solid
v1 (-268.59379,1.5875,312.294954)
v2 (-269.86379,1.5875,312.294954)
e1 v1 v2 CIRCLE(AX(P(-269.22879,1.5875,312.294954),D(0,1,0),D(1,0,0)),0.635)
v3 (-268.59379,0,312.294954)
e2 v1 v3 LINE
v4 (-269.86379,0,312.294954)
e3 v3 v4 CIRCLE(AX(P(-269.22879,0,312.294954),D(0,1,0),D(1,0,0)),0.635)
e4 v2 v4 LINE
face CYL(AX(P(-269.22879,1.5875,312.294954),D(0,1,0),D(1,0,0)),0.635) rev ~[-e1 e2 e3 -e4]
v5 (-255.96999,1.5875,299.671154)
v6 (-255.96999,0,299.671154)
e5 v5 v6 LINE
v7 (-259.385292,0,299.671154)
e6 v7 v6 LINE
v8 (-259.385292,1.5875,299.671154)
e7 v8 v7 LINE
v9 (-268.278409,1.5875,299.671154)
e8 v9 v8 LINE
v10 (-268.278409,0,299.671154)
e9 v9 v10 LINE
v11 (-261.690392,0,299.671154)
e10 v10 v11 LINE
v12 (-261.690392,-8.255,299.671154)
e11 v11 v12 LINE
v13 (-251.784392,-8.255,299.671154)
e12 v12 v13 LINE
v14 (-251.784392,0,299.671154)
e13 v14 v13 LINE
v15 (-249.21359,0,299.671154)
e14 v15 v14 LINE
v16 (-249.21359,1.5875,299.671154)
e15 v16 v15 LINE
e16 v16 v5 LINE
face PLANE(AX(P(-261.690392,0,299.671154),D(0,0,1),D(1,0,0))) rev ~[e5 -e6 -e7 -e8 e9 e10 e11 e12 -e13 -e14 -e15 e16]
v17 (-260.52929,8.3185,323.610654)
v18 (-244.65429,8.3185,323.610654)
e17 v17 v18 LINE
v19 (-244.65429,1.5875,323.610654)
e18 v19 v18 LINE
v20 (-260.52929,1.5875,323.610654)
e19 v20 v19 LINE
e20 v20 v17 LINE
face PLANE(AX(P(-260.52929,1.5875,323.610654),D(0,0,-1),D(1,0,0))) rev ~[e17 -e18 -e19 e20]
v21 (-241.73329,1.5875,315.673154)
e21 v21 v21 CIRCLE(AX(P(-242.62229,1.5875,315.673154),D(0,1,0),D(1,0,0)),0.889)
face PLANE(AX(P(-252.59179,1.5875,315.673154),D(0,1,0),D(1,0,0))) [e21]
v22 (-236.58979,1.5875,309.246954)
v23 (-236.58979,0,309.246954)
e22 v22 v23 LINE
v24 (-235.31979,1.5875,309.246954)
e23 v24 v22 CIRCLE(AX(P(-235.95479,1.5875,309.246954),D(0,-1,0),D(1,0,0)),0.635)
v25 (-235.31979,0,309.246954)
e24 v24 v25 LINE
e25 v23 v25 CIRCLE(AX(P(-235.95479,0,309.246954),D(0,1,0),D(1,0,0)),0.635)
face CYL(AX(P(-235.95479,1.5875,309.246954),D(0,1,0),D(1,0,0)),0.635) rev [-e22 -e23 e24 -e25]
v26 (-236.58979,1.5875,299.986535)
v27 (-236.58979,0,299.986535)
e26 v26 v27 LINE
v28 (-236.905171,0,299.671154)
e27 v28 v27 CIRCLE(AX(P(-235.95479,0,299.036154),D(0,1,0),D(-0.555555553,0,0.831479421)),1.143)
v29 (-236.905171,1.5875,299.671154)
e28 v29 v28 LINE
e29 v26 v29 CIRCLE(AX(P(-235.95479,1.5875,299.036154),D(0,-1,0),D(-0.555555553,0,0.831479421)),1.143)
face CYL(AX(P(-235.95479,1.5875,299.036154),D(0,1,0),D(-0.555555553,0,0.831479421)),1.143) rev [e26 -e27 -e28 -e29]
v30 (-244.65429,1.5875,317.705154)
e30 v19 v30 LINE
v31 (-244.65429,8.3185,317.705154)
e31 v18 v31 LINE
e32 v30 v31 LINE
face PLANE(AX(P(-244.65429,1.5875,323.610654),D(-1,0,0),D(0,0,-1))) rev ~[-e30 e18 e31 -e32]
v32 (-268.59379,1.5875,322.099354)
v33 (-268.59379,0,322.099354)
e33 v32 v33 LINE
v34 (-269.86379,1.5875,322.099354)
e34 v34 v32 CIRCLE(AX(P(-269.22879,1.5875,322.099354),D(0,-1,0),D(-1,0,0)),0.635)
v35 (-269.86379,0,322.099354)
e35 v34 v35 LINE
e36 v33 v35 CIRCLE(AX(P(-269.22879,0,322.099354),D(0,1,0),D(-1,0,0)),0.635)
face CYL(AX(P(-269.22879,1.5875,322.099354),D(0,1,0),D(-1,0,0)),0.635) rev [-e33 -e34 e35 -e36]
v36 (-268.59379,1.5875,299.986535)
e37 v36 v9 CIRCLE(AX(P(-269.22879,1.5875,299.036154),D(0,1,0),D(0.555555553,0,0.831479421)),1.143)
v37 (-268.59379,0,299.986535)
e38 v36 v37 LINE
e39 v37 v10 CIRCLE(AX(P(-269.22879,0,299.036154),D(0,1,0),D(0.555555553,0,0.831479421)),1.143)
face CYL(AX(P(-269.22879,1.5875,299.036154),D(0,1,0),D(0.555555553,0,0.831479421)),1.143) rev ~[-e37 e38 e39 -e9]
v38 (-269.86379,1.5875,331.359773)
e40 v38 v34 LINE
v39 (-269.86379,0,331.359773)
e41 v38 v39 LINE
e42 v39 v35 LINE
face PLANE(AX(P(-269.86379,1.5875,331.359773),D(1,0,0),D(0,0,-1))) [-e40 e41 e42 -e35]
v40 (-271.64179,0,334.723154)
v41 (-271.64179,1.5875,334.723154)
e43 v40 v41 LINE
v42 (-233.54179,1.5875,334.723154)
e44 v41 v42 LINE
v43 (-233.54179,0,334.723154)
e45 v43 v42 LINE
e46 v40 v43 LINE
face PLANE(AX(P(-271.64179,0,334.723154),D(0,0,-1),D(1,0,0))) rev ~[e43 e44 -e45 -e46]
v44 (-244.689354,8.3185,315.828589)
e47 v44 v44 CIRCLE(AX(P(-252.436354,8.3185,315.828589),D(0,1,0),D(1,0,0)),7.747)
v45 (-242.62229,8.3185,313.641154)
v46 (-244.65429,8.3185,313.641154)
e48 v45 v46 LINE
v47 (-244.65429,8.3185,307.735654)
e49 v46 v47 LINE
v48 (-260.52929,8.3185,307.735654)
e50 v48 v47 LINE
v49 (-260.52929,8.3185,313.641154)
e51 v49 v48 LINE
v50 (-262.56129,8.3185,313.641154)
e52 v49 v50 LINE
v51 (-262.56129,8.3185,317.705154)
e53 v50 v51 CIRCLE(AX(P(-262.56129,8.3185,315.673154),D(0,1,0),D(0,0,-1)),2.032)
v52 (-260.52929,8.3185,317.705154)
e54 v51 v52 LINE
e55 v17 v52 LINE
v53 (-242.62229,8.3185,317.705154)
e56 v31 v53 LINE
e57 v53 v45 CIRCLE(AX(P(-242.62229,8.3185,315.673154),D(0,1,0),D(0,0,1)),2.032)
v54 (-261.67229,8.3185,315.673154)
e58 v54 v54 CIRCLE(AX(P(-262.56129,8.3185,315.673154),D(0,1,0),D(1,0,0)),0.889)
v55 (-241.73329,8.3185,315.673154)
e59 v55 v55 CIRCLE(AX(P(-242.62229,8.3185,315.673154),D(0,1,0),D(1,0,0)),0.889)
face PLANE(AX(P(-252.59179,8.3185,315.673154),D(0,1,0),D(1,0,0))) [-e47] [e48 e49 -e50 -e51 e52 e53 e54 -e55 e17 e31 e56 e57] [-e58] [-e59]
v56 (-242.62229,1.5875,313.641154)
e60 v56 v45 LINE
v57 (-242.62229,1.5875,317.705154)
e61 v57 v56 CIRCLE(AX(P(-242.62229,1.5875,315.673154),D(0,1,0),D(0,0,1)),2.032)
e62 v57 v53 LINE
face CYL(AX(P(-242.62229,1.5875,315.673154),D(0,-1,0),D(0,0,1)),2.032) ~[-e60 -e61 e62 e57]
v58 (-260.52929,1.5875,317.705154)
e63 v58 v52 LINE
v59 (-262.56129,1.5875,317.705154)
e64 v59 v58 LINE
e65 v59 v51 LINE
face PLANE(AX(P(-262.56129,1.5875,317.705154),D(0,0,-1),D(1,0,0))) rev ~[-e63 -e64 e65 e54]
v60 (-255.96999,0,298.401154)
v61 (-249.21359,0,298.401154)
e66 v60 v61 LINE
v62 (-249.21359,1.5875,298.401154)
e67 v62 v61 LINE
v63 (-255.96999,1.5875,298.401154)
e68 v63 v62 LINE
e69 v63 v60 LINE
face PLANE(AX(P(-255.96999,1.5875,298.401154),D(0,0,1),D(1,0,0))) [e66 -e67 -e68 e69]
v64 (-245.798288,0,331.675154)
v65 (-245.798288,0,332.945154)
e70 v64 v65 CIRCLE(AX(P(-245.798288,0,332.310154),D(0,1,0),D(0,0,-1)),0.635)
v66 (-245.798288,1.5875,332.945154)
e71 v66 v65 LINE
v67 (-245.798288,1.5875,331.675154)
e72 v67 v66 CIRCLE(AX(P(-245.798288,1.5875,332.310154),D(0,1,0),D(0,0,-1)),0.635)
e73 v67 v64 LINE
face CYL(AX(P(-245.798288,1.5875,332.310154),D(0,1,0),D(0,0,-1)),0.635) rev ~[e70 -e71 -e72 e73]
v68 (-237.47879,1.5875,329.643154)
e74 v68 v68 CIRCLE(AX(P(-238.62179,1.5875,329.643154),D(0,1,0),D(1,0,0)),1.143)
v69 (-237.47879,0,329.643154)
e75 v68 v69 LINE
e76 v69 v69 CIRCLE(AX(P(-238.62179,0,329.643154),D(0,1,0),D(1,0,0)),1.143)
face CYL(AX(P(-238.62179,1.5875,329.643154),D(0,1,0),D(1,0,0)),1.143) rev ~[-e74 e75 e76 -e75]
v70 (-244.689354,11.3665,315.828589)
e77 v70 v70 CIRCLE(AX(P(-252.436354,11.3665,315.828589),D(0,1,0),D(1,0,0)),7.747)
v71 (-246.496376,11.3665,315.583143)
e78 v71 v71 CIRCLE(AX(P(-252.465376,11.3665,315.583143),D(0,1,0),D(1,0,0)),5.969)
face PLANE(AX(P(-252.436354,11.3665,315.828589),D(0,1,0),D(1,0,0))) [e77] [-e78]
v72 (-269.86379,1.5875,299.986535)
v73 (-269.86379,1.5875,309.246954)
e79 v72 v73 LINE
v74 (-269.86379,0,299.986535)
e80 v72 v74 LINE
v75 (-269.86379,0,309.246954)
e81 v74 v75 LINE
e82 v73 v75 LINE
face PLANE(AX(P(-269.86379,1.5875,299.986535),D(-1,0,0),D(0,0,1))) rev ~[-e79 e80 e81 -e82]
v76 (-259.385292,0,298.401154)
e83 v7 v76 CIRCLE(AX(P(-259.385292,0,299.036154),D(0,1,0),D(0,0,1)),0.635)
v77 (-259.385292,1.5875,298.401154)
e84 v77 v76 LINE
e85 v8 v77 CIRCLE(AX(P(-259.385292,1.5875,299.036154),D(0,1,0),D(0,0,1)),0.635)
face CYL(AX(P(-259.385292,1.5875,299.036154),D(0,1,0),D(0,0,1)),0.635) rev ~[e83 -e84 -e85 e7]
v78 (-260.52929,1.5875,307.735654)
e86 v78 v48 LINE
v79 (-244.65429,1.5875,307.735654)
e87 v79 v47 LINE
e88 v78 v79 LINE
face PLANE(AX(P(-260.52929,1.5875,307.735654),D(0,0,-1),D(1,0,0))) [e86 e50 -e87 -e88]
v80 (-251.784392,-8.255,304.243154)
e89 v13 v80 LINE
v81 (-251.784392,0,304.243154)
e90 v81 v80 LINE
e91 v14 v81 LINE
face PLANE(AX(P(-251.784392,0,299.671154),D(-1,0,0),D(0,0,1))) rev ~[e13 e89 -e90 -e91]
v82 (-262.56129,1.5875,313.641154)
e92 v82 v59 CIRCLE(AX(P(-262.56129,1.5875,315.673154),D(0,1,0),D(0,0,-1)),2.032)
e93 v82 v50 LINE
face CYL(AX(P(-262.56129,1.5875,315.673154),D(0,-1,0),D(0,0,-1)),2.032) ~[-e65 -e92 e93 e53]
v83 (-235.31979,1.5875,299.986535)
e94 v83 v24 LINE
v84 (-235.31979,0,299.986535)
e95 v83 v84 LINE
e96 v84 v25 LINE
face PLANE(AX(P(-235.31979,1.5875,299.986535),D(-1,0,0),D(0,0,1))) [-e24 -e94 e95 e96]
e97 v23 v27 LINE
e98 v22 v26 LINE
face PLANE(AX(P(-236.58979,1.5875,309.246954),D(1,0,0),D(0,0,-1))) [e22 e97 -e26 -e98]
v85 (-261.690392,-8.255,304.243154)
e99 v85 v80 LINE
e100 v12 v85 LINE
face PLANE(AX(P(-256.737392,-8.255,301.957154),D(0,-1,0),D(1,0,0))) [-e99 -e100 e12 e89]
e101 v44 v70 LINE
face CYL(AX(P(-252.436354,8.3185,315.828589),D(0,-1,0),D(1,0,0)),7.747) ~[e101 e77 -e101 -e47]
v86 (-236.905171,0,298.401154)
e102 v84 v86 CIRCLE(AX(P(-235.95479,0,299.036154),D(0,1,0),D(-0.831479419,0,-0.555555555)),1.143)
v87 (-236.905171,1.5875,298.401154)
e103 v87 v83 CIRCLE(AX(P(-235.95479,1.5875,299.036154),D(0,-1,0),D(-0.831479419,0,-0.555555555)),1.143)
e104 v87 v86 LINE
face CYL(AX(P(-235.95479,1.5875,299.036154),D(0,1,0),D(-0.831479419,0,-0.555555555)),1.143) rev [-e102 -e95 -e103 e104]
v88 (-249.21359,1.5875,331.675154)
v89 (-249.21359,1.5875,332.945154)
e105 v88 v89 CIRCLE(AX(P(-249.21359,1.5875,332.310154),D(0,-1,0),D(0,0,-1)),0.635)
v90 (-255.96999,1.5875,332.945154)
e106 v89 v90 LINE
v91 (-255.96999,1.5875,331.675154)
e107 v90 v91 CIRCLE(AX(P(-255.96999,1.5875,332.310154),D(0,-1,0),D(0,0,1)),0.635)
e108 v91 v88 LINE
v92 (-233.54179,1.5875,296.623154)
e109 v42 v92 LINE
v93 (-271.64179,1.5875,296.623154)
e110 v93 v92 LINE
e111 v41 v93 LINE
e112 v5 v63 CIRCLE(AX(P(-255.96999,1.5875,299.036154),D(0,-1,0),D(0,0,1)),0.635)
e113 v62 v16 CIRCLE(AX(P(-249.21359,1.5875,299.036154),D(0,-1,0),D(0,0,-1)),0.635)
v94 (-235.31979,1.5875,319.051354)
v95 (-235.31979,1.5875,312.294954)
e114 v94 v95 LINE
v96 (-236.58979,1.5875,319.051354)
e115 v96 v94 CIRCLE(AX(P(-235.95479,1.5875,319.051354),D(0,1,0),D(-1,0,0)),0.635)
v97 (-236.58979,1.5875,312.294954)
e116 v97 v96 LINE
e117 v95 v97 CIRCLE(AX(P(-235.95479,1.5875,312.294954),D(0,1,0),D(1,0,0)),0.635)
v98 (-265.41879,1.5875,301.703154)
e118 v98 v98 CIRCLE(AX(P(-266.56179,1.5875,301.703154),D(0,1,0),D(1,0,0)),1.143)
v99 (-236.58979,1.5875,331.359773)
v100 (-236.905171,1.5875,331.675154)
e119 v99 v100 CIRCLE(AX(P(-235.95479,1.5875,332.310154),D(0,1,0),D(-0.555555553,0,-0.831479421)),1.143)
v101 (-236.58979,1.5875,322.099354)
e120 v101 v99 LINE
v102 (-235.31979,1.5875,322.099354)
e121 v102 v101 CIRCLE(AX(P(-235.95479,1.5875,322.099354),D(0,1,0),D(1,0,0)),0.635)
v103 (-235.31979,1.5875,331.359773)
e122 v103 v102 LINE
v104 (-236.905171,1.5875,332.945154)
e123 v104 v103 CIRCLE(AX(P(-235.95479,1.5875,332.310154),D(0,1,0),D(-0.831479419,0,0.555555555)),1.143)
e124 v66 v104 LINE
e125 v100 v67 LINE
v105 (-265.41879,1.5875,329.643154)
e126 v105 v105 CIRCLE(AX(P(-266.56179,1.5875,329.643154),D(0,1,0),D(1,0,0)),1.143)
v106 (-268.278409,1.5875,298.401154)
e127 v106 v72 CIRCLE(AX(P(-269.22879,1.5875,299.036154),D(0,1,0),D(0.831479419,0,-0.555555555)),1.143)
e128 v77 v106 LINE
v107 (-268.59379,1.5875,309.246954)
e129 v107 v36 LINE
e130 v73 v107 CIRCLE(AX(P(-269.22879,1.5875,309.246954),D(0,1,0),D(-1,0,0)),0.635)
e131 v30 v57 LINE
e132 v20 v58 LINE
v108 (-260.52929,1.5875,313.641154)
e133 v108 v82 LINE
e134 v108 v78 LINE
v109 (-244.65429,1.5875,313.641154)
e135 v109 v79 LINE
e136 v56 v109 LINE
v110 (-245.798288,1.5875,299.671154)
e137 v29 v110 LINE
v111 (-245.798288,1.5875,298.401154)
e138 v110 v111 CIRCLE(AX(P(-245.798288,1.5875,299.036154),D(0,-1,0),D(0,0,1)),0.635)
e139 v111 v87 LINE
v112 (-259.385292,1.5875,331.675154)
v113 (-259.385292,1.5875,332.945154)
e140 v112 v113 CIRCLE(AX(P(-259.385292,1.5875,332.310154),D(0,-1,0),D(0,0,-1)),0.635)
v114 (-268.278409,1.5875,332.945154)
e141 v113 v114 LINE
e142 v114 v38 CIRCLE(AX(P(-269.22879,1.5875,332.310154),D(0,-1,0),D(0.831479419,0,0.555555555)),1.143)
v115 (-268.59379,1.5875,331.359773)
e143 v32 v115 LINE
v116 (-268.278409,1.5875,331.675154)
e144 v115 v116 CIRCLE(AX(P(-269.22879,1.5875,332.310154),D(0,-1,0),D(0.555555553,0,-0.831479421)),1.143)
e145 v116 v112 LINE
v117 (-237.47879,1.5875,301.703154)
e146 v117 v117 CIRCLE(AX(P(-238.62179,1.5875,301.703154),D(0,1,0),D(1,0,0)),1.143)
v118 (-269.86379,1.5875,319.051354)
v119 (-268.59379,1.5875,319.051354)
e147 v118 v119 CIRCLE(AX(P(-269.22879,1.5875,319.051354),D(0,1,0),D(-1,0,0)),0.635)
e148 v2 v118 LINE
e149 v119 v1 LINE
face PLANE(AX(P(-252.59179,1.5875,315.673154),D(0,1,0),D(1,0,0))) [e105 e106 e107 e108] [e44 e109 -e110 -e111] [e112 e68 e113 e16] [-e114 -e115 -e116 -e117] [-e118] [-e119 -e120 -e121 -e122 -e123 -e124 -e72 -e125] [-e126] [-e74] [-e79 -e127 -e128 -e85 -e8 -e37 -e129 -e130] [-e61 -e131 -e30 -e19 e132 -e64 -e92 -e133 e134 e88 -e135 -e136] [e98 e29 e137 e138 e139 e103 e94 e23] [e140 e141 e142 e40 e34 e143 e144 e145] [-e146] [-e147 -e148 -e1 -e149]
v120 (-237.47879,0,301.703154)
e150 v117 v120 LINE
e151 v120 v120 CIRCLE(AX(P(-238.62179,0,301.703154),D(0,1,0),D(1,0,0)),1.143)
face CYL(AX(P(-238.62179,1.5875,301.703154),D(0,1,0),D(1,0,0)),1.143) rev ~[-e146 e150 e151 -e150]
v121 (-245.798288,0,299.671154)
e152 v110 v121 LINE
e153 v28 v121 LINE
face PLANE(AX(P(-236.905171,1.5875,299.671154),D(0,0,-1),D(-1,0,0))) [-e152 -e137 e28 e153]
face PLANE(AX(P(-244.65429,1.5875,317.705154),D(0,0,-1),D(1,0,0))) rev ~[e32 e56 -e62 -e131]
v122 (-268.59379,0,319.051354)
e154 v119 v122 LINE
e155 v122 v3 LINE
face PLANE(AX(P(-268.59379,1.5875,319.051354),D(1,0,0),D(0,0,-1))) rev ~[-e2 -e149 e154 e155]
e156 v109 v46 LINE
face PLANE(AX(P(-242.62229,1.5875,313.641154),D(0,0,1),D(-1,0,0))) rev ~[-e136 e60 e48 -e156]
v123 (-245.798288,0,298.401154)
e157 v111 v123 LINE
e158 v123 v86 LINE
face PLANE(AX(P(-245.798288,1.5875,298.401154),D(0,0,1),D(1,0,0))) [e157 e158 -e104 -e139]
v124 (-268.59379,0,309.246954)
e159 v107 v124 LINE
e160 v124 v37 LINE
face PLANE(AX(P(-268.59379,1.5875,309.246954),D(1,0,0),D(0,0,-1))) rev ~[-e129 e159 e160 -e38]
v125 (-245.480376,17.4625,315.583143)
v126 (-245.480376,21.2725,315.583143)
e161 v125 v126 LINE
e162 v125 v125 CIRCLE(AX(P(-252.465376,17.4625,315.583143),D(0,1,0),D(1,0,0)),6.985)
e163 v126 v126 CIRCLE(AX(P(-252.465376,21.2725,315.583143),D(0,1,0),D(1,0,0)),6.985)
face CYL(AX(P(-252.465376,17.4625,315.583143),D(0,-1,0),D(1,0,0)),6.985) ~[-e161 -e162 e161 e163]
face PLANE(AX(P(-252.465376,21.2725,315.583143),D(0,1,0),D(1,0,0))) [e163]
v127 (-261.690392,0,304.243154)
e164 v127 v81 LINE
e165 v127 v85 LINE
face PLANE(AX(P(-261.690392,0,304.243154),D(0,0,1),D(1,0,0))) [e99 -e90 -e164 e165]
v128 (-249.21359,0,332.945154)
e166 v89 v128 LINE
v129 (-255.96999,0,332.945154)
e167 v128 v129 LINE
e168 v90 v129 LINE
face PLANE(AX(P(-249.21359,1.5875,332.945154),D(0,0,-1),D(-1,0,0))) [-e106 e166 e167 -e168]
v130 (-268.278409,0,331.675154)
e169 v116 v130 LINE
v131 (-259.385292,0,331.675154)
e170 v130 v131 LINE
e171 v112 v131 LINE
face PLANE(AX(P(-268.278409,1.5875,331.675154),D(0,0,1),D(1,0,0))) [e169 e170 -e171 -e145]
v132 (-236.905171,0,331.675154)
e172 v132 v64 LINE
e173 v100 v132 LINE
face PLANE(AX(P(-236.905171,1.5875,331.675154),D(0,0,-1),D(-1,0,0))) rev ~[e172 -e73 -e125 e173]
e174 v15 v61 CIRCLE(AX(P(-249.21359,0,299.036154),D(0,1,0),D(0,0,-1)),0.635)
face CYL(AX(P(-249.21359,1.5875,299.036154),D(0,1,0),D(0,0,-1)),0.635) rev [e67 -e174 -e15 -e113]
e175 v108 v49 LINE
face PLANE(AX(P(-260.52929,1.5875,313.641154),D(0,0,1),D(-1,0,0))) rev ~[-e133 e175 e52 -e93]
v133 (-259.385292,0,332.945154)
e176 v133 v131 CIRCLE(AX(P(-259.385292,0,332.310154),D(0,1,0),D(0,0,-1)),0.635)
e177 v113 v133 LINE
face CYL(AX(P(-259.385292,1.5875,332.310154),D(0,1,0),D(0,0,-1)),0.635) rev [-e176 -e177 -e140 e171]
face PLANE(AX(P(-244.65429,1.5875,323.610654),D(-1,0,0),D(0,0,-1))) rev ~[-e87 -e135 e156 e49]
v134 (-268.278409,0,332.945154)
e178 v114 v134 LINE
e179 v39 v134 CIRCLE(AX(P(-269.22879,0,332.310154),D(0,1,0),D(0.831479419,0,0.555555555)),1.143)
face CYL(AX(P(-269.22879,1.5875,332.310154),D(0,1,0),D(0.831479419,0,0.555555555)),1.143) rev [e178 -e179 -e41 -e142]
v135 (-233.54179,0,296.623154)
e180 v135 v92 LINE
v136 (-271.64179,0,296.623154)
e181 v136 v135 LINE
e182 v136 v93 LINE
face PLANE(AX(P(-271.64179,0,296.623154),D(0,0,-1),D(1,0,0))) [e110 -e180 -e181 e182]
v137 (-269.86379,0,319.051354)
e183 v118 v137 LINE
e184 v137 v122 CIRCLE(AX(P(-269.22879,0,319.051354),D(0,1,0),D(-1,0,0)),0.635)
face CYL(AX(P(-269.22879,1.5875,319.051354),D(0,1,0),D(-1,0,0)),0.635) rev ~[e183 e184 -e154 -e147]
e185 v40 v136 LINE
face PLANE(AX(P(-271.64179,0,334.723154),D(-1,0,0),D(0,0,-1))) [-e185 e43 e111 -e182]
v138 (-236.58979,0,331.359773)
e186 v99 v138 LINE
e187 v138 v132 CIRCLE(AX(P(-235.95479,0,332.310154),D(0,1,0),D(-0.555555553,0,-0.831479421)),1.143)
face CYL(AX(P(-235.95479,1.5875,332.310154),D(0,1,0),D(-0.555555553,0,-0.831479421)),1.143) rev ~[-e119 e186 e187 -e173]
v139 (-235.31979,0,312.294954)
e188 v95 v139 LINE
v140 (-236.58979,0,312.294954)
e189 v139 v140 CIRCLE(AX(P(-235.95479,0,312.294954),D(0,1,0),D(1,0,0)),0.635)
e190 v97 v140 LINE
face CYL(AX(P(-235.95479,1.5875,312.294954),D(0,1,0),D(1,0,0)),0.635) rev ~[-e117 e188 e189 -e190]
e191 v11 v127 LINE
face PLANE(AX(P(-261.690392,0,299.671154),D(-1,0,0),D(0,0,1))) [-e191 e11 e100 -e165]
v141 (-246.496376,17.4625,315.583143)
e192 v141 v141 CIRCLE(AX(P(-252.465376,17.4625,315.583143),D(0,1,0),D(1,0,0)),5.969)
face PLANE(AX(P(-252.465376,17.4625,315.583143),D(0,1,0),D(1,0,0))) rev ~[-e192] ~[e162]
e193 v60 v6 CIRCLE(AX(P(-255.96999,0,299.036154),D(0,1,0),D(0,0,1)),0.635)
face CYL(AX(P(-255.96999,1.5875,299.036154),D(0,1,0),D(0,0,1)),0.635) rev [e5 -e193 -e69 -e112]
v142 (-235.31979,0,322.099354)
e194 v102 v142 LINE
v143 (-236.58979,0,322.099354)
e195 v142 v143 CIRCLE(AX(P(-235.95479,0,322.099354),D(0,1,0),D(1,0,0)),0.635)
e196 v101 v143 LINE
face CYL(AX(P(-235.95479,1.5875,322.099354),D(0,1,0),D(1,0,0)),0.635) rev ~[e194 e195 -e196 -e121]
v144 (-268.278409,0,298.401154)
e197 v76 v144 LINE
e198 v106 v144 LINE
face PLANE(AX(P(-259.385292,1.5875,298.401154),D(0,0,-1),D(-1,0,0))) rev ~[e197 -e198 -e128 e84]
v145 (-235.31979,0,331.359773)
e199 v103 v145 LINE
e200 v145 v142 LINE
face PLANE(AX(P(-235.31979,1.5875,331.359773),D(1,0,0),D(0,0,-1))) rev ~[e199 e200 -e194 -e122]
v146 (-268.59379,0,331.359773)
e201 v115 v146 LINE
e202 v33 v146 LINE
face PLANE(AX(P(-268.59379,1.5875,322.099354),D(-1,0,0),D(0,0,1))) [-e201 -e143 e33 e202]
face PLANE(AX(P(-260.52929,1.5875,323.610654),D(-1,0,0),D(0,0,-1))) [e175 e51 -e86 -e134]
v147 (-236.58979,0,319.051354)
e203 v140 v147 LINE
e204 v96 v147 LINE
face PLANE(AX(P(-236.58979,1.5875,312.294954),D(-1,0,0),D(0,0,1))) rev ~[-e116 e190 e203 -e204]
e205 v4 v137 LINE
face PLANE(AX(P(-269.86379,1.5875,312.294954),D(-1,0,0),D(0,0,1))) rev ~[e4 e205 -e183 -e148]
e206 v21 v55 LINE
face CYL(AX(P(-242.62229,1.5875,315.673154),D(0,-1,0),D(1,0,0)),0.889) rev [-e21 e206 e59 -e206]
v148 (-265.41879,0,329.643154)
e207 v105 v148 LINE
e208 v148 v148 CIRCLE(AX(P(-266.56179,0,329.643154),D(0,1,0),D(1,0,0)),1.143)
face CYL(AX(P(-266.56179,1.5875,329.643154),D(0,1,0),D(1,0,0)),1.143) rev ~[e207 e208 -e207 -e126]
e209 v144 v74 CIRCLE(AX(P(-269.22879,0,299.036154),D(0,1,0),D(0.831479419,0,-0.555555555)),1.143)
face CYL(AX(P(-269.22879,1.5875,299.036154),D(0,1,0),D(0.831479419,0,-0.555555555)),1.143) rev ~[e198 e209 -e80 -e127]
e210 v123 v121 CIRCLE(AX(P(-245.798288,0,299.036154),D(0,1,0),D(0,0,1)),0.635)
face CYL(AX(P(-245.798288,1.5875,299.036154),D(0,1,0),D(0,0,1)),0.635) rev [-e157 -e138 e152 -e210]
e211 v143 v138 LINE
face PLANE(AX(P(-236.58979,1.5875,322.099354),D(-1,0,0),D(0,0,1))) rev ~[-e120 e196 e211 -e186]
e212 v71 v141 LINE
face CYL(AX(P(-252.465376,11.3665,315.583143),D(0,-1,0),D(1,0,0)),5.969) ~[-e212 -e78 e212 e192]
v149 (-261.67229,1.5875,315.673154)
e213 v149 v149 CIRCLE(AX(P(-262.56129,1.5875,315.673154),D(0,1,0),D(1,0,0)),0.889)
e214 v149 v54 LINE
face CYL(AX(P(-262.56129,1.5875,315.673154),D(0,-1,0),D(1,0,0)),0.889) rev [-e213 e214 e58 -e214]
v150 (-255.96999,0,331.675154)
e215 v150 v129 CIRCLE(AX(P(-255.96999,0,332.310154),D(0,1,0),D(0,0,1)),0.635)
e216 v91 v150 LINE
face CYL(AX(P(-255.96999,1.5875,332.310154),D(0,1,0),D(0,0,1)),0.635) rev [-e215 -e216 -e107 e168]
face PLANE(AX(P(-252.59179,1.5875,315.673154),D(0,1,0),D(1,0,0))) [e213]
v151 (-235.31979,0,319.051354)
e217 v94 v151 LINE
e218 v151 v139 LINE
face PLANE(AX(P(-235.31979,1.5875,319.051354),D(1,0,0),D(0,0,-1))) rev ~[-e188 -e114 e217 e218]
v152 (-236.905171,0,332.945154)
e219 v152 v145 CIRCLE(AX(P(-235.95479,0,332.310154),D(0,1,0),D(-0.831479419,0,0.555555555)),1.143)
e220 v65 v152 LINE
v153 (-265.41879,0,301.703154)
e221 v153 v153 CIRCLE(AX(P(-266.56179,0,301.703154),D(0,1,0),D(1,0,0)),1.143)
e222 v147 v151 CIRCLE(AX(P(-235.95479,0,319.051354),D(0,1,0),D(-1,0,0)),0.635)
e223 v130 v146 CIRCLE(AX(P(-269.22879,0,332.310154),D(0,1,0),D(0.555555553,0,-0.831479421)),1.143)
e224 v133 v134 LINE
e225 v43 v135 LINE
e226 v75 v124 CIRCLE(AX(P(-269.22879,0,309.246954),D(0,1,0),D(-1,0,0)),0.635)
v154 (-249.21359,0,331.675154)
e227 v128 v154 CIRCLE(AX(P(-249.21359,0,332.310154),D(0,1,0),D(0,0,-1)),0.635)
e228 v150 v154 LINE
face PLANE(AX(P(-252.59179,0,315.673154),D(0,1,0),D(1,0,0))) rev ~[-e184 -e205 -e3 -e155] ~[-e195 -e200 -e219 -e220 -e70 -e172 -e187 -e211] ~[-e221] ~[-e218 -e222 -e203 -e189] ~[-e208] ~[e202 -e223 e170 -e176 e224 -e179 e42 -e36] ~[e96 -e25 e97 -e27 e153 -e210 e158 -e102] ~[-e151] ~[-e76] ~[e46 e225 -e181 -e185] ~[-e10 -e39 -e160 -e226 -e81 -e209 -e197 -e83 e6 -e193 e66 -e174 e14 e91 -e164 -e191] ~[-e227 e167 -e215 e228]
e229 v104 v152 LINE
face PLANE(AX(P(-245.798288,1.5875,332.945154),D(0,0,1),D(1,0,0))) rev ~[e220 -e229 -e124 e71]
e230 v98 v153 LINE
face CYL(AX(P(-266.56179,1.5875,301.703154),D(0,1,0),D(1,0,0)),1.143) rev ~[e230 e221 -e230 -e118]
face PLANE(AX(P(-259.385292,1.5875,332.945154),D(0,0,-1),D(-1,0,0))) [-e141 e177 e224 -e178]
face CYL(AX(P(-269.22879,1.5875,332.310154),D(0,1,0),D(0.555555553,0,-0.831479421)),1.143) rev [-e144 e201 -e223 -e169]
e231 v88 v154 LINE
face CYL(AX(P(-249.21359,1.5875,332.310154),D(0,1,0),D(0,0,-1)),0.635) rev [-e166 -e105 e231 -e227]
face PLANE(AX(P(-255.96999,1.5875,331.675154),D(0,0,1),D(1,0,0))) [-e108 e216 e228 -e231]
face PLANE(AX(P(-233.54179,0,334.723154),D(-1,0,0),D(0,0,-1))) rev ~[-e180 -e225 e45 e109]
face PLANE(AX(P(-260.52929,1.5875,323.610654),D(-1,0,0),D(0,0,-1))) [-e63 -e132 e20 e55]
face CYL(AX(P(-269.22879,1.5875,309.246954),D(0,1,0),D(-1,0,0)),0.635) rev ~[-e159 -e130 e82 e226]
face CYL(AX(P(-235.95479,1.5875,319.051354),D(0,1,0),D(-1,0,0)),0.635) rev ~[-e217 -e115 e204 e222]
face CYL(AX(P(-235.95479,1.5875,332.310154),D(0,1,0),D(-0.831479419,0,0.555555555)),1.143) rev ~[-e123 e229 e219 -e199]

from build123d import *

# Parameters (mm, degrees)
SKETCH1_W           = 38.1
SKETCH1_H           = 38.1
BOSS_EXTRUDE1_DEPTH = 1.5875
SKETCH4_R           = 1.143
CUT_EXTRUDE2_DEPTH  = 7.874
SKETCH6_W           = 15.875
SKETCH6_H           = 15.875
BOSS_EXTRUDE2_DEPTH = 6.731
SKETCH7_R           = 0.889
BOSS_EXTRUDE3_DEPTH = 6.731
SKETCH8_R           = 7.747
BOSS_EXTRUDE4_DEPTH = 3.048
SKETCH9_R           = 5.969
BOSS_EXTRUDE5_DEPTH = 6.096
SKETCH10_R          = 6.985
BOSS_EXTRUDE6_DEPTH = 3.81
SKETCH11_W          = 9.906
SKETCH11_H          = 4.572
BOSS_EXTRUDE7_DEPTH = 8.255


with BuildPart() as part:
    # Sketch1 → Boss-Extrude1 (new body)
    with BuildSketch(Plane(origin=(0, 0, 0), x_dir=(1, 0, 0), z_dir=(0, 1, 0))):
        with Locations((-252.591789549, -315.673153846)):
            Rectangle(SKETCH1_W, SKETCH1_H)
    extrude(amount=BOSS_EXTRUDE1_DEPTH)

    # Sketch4 → Cut-Extrude2 (cut)
    with BuildSketch(Plane(origin=(0, 1.5875, 0), x_dir=(1, 0, 0), z_dir=(0, 1, 0))):
        with Locations((-266.561789549, -301.703153846)):
            Circle(SKETCH4_R)
        with Locations((-238.621789549, -301.703153846)):
            Circle(SKETCH4_R)
        with Locations((-266.561789549, -329.643153846)):
            Circle(SKETCH4_R)
        with Locations((-238.621789549, -329.643153846)):
            Circle(SKETCH4_R)
        with BuildLine():
            Line((-269.863789549, -312.294953846), (-269.863789549, -319.051353846))
            ThreePointArc((-269.863789549, -319.051353846), (-269.228789549, -319.686353846), (-268.593789549, -319.051353846))
            Line((-268.593789549, -319.051353846), (-268.593789549, -312.294953846))
            ThreePointArc((-268.593789549, -312.294953846), (-269.228789549, -311.659953846), (-269.863789549, -312.294953846))
        make_face()
        with BuildLine():
            Line((-259.385291519, -298.401153846), (-268.278408573, -298.401153846))
            ThreePointArc((-268.278408573, -298.401153846), (-270.0370126, -298.227930795), (-269.863789549, -299.986534822))
            Line((-269.863789549, -299.986534822), (-269.863789549, -309.246953846))
            ThreePointArc((-269.863789549, -309.246953846), (-269.228789549, -309.881953846), (-268.593789549, -309.246953846))
            Line((-268.593789549, -309.246953846), (-268.593789549, -299.986534822))
            ThreePointArc((-268.593789549, -299.986534822), (-268.420566498, -299.844376897), (-268.278408573, -299.671153846))
            Line((-268.278408573, -299.671153846), (-259.385291519, -299.671153846))
            ThreePointArc((-259.385291519, -299.671153846), (-258.750291519, -299.036153846), (-259.385291519, -298.401153846))
        make_face()
        with BuildLine():
            Line((-255.969989549, -298.401153846), (-249.213589549, -298.401153846))
            ThreePointArc((-249.213589549, -298.401153846), (-248.578589549, -299.036153846), (-249.213589549, -299.671153846))
            Line((-249.213589549, -299.671153846), (-255.969989549, -299.671153846))
            ThreePointArc((-255.969989549, -299.671153846), (-256.604989549, -299.036153846), (-255.969989549, -298.401153846))
        make_face()
        with BuildLine():
            Line((-236.589789549, -309.246953846), (-236.589789549, -299.986534822))
            ThreePointArc((-236.589789549, -299.986534822), (-236.7630126, -299.844376897), (-236.905170525, -299.671153846))
            Line((-236.905170525, -299.671153846), (-245.798287579, -299.671153846))
            ThreePointArc((-245.798287579, -299.671153846), (-246.433287579, -299.036153846), (-245.798287579, -298.401153846))
            Line((-245.798287579, -298.401153846), (-236.905170525, -298.401153846))
            ThreePointArc((-236.905170525, -298.401153846), (-235.146566498, -298.227930795), (-235.319789549, -299.986534822))
            Line((-235.319789549, -299.986534822), (-235.319789549, -309.246953846))
            ThreePointArc((-235.319789549, -309.246953846), (-235.954789549, -309.881953846), (-236.589789549, -309.246953846))
        make_face()
        with BuildLine():
            Line((-236.589789549, -312.294953846), (-236.589789549, -319.051353846))
            ThreePointArc((-236.589789549, -319.051353846), (-235.954789549, -319.686353846), (-235.319789549, -319.051353846))
            Line((-235.319789549, -319.051353846), (-235.319789549, -312.294953846))
            ThreePointArc((-235.319789549, -312.294953846), (-235.954789549, -311.659953846), (-236.589789549, -312.294953846))
        make_face()
        with BuildLine():
            Line((-245.798287579, -332.945153846), (-236.905170525, -332.945153846))
            ThreePointArc((-236.905170525, -332.945153846), (-235.146566498, -333.118376897), (-235.319789549, -331.35977287))
            Line((-235.319789549, -331.35977287), (-235.319789549, -322.099353846))
            ThreePointArc((-235.319789549, -322.099353846), (-235.954789549, -321.464353846), (-236.589789549, -322.099353846))
            Line((-236.589789549, -322.099353846), (-236.589789549, -331.35977287))
            ThreePointArc((-236.589789549, -331.35977287), (-236.7630126, -331.501930795), (-236.905170525, -331.675153846))
            Line((-236.905170525, -331.675153846), (-245.798287579, -331.675153846))
            ThreePointArc((-245.798287579, -331.675153846), (-246.433287579, -332.310153846), (-245.798287579, -332.945153846))
        make_face()
        with BuildLine():
            Line((-268.593789549, -322.099353846), (-268.593789549, -331.35977287))
            ThreePointArc((-268.593789549, -331.35977287), (-268.420566498, -331.501930795), (-268.278408573, -331.675153846))
            Line((-268.278408573, -331.675153846), (-259.385291519, -331.675153846))
            ThreePointArc((-259.385291519, -331.675153846), (-258.750291519, -332.310153846), (-259.385291519, -332.945153846))
            Line((-259.385291519, -332.945153846), (-268.278408573, -332.945153846))
            ThreePointArc((-268.278408573, -332.945153846), (-270.0370126, -333.118376897), (-269.863789549, -331.35977287))
            Line((-269.863789549, -331.35977287), (-269.863789549, -322.099353846))
            ThreePointArc((-269.863789549, -322.099353846), (-269.228789549, -321.464353846), (-268.593789549, -322.099353846))
        make_face()
        with BuildLine():
            Line((-255.969989549, -331.675153846), (-249.213589549, -331.675153846))
            ThreePointArc((-249.213589549, -331.675153846), (-248.578589549, -332.310153846), (-249.213589549, -332.945153846))
            Line((-249.213589549, -332.945153846), (-255.969989549, -332.945153846))
            ThreePointArc((-255.969989549, -332.945153846), (-256.604989549, -332.310153846), (-255.969989549, -331.675153846))
        make_face()
    extrude(amount=-CUT_EXTRUDE2_DEPTH, mode=Mode.SUBTRACT)

    # Sketch6 → Boss-Extrude2 (add)
    with BuildSketch(Plane(origin=(0, 1.5875, 0), x_dir=(1, 0, 0), z_dir=(0, 1, 0))):
        with Locations((-252.591789549, -315.673153846)):
            Rectangle(SKETCH6_W, SKETCH6_H)
    extrude(amount=BOSS_EXTRUDE2_DEPTH)

    # Sketch7 → Boss-Extrude3 (add)
    with BuildSketch(Plane(origin=(0, 1.5875, 0), x_dir=(1, 0, 0), z_dir=(0, 1, 0))):
        with BuildLine():
            Line((-242.622289549, -313.641153846), (-244.654289549, -313.641153846))
            Line((-244.654289549, -313.641153846), (-244.654289549, -317.705153846))
            Line((-244.654289549, -317.705153846), (-242.622289549, -317.705153846))
            ThreePointArc((-242.622289549, -317.705153846), (-240.590289549, -315.673153846), (-242.622289549, -313.641153846))
        make_face()
        with Locations((-242.622289549, -315.673153846)):
            Circle(SKETCH7_R, mode=Mode.SUBTRACT)
        with BuildLine():
            Line((-262.561289549, -317.705153846), (-260.529289549, -317.705153846))
            Line((-260.529289549, -317.705153846), (-260.529289549, -313.641153846))
            Line((-260.529289549, -313.641153846), (-262.561289549, -313.641153846))
            ThreePointArc((-262.561289549, -313.641153846), (-264.593289549, -315.673153846), (-262.561289549, -317.705153846))
        make_face()
        with Locations((-262.561289549, -315.673153846)):
            Circle(SKETCH7_R, mode=Mode.SUBTRACT)
    extrude(amount=BOSS_EXTRUDE3_DEPTH)

    # Sketch8 → Boss-Extrude4 (add)
    with BuildSketch(Plane(origin=(0, 8.3185, 0), x_dir=(1, 0, 0), z_dir=(0, 1, 0))):
        with Locations((-252.436354268, -315.828589127)):
            Circle(SKETCH8_R)
    extrude(amount=BOSS_EXTRUDE4_DEPTH)

    # Sketch9 → Boss-Extrude5 (add)
    with BuildSketch(Plane(origin=(0, 11.3665, 0), x_dir=(1, 0, 0), z_dir=(0, 1, 0))):
        with Locations((-252.465375739, -315.583143422)):
            Circle(SKETCH9_R)
    extrude(amount=BOSS_EXTRUDE5_DEPTH)

    # Sketch10 → Boss-Extrude6 (add)
    with BuildSketch(Plane(origin=(0, 17.4625, 0), x_dir=(1, 0, 0), z_dir=(0, 1, 0))):
        with Locations((-252.465375739, -315.583143422)):
            Circle(SKETCH10_R)
    extrude(amount=BOSS_EXTRUDE6_DEPTH)

    # Sketch11 → Boss-Extrude7 (add)
    with BuildSketch(Plane.XZ):
        with Locations((-256.737392156, 301.957153846)):
            Rectangle(SKETCH11_W, SKETCH11_H)
    extrude(amount=BOSS_EXTRUDE7_DEPTH)


solid = part.part
